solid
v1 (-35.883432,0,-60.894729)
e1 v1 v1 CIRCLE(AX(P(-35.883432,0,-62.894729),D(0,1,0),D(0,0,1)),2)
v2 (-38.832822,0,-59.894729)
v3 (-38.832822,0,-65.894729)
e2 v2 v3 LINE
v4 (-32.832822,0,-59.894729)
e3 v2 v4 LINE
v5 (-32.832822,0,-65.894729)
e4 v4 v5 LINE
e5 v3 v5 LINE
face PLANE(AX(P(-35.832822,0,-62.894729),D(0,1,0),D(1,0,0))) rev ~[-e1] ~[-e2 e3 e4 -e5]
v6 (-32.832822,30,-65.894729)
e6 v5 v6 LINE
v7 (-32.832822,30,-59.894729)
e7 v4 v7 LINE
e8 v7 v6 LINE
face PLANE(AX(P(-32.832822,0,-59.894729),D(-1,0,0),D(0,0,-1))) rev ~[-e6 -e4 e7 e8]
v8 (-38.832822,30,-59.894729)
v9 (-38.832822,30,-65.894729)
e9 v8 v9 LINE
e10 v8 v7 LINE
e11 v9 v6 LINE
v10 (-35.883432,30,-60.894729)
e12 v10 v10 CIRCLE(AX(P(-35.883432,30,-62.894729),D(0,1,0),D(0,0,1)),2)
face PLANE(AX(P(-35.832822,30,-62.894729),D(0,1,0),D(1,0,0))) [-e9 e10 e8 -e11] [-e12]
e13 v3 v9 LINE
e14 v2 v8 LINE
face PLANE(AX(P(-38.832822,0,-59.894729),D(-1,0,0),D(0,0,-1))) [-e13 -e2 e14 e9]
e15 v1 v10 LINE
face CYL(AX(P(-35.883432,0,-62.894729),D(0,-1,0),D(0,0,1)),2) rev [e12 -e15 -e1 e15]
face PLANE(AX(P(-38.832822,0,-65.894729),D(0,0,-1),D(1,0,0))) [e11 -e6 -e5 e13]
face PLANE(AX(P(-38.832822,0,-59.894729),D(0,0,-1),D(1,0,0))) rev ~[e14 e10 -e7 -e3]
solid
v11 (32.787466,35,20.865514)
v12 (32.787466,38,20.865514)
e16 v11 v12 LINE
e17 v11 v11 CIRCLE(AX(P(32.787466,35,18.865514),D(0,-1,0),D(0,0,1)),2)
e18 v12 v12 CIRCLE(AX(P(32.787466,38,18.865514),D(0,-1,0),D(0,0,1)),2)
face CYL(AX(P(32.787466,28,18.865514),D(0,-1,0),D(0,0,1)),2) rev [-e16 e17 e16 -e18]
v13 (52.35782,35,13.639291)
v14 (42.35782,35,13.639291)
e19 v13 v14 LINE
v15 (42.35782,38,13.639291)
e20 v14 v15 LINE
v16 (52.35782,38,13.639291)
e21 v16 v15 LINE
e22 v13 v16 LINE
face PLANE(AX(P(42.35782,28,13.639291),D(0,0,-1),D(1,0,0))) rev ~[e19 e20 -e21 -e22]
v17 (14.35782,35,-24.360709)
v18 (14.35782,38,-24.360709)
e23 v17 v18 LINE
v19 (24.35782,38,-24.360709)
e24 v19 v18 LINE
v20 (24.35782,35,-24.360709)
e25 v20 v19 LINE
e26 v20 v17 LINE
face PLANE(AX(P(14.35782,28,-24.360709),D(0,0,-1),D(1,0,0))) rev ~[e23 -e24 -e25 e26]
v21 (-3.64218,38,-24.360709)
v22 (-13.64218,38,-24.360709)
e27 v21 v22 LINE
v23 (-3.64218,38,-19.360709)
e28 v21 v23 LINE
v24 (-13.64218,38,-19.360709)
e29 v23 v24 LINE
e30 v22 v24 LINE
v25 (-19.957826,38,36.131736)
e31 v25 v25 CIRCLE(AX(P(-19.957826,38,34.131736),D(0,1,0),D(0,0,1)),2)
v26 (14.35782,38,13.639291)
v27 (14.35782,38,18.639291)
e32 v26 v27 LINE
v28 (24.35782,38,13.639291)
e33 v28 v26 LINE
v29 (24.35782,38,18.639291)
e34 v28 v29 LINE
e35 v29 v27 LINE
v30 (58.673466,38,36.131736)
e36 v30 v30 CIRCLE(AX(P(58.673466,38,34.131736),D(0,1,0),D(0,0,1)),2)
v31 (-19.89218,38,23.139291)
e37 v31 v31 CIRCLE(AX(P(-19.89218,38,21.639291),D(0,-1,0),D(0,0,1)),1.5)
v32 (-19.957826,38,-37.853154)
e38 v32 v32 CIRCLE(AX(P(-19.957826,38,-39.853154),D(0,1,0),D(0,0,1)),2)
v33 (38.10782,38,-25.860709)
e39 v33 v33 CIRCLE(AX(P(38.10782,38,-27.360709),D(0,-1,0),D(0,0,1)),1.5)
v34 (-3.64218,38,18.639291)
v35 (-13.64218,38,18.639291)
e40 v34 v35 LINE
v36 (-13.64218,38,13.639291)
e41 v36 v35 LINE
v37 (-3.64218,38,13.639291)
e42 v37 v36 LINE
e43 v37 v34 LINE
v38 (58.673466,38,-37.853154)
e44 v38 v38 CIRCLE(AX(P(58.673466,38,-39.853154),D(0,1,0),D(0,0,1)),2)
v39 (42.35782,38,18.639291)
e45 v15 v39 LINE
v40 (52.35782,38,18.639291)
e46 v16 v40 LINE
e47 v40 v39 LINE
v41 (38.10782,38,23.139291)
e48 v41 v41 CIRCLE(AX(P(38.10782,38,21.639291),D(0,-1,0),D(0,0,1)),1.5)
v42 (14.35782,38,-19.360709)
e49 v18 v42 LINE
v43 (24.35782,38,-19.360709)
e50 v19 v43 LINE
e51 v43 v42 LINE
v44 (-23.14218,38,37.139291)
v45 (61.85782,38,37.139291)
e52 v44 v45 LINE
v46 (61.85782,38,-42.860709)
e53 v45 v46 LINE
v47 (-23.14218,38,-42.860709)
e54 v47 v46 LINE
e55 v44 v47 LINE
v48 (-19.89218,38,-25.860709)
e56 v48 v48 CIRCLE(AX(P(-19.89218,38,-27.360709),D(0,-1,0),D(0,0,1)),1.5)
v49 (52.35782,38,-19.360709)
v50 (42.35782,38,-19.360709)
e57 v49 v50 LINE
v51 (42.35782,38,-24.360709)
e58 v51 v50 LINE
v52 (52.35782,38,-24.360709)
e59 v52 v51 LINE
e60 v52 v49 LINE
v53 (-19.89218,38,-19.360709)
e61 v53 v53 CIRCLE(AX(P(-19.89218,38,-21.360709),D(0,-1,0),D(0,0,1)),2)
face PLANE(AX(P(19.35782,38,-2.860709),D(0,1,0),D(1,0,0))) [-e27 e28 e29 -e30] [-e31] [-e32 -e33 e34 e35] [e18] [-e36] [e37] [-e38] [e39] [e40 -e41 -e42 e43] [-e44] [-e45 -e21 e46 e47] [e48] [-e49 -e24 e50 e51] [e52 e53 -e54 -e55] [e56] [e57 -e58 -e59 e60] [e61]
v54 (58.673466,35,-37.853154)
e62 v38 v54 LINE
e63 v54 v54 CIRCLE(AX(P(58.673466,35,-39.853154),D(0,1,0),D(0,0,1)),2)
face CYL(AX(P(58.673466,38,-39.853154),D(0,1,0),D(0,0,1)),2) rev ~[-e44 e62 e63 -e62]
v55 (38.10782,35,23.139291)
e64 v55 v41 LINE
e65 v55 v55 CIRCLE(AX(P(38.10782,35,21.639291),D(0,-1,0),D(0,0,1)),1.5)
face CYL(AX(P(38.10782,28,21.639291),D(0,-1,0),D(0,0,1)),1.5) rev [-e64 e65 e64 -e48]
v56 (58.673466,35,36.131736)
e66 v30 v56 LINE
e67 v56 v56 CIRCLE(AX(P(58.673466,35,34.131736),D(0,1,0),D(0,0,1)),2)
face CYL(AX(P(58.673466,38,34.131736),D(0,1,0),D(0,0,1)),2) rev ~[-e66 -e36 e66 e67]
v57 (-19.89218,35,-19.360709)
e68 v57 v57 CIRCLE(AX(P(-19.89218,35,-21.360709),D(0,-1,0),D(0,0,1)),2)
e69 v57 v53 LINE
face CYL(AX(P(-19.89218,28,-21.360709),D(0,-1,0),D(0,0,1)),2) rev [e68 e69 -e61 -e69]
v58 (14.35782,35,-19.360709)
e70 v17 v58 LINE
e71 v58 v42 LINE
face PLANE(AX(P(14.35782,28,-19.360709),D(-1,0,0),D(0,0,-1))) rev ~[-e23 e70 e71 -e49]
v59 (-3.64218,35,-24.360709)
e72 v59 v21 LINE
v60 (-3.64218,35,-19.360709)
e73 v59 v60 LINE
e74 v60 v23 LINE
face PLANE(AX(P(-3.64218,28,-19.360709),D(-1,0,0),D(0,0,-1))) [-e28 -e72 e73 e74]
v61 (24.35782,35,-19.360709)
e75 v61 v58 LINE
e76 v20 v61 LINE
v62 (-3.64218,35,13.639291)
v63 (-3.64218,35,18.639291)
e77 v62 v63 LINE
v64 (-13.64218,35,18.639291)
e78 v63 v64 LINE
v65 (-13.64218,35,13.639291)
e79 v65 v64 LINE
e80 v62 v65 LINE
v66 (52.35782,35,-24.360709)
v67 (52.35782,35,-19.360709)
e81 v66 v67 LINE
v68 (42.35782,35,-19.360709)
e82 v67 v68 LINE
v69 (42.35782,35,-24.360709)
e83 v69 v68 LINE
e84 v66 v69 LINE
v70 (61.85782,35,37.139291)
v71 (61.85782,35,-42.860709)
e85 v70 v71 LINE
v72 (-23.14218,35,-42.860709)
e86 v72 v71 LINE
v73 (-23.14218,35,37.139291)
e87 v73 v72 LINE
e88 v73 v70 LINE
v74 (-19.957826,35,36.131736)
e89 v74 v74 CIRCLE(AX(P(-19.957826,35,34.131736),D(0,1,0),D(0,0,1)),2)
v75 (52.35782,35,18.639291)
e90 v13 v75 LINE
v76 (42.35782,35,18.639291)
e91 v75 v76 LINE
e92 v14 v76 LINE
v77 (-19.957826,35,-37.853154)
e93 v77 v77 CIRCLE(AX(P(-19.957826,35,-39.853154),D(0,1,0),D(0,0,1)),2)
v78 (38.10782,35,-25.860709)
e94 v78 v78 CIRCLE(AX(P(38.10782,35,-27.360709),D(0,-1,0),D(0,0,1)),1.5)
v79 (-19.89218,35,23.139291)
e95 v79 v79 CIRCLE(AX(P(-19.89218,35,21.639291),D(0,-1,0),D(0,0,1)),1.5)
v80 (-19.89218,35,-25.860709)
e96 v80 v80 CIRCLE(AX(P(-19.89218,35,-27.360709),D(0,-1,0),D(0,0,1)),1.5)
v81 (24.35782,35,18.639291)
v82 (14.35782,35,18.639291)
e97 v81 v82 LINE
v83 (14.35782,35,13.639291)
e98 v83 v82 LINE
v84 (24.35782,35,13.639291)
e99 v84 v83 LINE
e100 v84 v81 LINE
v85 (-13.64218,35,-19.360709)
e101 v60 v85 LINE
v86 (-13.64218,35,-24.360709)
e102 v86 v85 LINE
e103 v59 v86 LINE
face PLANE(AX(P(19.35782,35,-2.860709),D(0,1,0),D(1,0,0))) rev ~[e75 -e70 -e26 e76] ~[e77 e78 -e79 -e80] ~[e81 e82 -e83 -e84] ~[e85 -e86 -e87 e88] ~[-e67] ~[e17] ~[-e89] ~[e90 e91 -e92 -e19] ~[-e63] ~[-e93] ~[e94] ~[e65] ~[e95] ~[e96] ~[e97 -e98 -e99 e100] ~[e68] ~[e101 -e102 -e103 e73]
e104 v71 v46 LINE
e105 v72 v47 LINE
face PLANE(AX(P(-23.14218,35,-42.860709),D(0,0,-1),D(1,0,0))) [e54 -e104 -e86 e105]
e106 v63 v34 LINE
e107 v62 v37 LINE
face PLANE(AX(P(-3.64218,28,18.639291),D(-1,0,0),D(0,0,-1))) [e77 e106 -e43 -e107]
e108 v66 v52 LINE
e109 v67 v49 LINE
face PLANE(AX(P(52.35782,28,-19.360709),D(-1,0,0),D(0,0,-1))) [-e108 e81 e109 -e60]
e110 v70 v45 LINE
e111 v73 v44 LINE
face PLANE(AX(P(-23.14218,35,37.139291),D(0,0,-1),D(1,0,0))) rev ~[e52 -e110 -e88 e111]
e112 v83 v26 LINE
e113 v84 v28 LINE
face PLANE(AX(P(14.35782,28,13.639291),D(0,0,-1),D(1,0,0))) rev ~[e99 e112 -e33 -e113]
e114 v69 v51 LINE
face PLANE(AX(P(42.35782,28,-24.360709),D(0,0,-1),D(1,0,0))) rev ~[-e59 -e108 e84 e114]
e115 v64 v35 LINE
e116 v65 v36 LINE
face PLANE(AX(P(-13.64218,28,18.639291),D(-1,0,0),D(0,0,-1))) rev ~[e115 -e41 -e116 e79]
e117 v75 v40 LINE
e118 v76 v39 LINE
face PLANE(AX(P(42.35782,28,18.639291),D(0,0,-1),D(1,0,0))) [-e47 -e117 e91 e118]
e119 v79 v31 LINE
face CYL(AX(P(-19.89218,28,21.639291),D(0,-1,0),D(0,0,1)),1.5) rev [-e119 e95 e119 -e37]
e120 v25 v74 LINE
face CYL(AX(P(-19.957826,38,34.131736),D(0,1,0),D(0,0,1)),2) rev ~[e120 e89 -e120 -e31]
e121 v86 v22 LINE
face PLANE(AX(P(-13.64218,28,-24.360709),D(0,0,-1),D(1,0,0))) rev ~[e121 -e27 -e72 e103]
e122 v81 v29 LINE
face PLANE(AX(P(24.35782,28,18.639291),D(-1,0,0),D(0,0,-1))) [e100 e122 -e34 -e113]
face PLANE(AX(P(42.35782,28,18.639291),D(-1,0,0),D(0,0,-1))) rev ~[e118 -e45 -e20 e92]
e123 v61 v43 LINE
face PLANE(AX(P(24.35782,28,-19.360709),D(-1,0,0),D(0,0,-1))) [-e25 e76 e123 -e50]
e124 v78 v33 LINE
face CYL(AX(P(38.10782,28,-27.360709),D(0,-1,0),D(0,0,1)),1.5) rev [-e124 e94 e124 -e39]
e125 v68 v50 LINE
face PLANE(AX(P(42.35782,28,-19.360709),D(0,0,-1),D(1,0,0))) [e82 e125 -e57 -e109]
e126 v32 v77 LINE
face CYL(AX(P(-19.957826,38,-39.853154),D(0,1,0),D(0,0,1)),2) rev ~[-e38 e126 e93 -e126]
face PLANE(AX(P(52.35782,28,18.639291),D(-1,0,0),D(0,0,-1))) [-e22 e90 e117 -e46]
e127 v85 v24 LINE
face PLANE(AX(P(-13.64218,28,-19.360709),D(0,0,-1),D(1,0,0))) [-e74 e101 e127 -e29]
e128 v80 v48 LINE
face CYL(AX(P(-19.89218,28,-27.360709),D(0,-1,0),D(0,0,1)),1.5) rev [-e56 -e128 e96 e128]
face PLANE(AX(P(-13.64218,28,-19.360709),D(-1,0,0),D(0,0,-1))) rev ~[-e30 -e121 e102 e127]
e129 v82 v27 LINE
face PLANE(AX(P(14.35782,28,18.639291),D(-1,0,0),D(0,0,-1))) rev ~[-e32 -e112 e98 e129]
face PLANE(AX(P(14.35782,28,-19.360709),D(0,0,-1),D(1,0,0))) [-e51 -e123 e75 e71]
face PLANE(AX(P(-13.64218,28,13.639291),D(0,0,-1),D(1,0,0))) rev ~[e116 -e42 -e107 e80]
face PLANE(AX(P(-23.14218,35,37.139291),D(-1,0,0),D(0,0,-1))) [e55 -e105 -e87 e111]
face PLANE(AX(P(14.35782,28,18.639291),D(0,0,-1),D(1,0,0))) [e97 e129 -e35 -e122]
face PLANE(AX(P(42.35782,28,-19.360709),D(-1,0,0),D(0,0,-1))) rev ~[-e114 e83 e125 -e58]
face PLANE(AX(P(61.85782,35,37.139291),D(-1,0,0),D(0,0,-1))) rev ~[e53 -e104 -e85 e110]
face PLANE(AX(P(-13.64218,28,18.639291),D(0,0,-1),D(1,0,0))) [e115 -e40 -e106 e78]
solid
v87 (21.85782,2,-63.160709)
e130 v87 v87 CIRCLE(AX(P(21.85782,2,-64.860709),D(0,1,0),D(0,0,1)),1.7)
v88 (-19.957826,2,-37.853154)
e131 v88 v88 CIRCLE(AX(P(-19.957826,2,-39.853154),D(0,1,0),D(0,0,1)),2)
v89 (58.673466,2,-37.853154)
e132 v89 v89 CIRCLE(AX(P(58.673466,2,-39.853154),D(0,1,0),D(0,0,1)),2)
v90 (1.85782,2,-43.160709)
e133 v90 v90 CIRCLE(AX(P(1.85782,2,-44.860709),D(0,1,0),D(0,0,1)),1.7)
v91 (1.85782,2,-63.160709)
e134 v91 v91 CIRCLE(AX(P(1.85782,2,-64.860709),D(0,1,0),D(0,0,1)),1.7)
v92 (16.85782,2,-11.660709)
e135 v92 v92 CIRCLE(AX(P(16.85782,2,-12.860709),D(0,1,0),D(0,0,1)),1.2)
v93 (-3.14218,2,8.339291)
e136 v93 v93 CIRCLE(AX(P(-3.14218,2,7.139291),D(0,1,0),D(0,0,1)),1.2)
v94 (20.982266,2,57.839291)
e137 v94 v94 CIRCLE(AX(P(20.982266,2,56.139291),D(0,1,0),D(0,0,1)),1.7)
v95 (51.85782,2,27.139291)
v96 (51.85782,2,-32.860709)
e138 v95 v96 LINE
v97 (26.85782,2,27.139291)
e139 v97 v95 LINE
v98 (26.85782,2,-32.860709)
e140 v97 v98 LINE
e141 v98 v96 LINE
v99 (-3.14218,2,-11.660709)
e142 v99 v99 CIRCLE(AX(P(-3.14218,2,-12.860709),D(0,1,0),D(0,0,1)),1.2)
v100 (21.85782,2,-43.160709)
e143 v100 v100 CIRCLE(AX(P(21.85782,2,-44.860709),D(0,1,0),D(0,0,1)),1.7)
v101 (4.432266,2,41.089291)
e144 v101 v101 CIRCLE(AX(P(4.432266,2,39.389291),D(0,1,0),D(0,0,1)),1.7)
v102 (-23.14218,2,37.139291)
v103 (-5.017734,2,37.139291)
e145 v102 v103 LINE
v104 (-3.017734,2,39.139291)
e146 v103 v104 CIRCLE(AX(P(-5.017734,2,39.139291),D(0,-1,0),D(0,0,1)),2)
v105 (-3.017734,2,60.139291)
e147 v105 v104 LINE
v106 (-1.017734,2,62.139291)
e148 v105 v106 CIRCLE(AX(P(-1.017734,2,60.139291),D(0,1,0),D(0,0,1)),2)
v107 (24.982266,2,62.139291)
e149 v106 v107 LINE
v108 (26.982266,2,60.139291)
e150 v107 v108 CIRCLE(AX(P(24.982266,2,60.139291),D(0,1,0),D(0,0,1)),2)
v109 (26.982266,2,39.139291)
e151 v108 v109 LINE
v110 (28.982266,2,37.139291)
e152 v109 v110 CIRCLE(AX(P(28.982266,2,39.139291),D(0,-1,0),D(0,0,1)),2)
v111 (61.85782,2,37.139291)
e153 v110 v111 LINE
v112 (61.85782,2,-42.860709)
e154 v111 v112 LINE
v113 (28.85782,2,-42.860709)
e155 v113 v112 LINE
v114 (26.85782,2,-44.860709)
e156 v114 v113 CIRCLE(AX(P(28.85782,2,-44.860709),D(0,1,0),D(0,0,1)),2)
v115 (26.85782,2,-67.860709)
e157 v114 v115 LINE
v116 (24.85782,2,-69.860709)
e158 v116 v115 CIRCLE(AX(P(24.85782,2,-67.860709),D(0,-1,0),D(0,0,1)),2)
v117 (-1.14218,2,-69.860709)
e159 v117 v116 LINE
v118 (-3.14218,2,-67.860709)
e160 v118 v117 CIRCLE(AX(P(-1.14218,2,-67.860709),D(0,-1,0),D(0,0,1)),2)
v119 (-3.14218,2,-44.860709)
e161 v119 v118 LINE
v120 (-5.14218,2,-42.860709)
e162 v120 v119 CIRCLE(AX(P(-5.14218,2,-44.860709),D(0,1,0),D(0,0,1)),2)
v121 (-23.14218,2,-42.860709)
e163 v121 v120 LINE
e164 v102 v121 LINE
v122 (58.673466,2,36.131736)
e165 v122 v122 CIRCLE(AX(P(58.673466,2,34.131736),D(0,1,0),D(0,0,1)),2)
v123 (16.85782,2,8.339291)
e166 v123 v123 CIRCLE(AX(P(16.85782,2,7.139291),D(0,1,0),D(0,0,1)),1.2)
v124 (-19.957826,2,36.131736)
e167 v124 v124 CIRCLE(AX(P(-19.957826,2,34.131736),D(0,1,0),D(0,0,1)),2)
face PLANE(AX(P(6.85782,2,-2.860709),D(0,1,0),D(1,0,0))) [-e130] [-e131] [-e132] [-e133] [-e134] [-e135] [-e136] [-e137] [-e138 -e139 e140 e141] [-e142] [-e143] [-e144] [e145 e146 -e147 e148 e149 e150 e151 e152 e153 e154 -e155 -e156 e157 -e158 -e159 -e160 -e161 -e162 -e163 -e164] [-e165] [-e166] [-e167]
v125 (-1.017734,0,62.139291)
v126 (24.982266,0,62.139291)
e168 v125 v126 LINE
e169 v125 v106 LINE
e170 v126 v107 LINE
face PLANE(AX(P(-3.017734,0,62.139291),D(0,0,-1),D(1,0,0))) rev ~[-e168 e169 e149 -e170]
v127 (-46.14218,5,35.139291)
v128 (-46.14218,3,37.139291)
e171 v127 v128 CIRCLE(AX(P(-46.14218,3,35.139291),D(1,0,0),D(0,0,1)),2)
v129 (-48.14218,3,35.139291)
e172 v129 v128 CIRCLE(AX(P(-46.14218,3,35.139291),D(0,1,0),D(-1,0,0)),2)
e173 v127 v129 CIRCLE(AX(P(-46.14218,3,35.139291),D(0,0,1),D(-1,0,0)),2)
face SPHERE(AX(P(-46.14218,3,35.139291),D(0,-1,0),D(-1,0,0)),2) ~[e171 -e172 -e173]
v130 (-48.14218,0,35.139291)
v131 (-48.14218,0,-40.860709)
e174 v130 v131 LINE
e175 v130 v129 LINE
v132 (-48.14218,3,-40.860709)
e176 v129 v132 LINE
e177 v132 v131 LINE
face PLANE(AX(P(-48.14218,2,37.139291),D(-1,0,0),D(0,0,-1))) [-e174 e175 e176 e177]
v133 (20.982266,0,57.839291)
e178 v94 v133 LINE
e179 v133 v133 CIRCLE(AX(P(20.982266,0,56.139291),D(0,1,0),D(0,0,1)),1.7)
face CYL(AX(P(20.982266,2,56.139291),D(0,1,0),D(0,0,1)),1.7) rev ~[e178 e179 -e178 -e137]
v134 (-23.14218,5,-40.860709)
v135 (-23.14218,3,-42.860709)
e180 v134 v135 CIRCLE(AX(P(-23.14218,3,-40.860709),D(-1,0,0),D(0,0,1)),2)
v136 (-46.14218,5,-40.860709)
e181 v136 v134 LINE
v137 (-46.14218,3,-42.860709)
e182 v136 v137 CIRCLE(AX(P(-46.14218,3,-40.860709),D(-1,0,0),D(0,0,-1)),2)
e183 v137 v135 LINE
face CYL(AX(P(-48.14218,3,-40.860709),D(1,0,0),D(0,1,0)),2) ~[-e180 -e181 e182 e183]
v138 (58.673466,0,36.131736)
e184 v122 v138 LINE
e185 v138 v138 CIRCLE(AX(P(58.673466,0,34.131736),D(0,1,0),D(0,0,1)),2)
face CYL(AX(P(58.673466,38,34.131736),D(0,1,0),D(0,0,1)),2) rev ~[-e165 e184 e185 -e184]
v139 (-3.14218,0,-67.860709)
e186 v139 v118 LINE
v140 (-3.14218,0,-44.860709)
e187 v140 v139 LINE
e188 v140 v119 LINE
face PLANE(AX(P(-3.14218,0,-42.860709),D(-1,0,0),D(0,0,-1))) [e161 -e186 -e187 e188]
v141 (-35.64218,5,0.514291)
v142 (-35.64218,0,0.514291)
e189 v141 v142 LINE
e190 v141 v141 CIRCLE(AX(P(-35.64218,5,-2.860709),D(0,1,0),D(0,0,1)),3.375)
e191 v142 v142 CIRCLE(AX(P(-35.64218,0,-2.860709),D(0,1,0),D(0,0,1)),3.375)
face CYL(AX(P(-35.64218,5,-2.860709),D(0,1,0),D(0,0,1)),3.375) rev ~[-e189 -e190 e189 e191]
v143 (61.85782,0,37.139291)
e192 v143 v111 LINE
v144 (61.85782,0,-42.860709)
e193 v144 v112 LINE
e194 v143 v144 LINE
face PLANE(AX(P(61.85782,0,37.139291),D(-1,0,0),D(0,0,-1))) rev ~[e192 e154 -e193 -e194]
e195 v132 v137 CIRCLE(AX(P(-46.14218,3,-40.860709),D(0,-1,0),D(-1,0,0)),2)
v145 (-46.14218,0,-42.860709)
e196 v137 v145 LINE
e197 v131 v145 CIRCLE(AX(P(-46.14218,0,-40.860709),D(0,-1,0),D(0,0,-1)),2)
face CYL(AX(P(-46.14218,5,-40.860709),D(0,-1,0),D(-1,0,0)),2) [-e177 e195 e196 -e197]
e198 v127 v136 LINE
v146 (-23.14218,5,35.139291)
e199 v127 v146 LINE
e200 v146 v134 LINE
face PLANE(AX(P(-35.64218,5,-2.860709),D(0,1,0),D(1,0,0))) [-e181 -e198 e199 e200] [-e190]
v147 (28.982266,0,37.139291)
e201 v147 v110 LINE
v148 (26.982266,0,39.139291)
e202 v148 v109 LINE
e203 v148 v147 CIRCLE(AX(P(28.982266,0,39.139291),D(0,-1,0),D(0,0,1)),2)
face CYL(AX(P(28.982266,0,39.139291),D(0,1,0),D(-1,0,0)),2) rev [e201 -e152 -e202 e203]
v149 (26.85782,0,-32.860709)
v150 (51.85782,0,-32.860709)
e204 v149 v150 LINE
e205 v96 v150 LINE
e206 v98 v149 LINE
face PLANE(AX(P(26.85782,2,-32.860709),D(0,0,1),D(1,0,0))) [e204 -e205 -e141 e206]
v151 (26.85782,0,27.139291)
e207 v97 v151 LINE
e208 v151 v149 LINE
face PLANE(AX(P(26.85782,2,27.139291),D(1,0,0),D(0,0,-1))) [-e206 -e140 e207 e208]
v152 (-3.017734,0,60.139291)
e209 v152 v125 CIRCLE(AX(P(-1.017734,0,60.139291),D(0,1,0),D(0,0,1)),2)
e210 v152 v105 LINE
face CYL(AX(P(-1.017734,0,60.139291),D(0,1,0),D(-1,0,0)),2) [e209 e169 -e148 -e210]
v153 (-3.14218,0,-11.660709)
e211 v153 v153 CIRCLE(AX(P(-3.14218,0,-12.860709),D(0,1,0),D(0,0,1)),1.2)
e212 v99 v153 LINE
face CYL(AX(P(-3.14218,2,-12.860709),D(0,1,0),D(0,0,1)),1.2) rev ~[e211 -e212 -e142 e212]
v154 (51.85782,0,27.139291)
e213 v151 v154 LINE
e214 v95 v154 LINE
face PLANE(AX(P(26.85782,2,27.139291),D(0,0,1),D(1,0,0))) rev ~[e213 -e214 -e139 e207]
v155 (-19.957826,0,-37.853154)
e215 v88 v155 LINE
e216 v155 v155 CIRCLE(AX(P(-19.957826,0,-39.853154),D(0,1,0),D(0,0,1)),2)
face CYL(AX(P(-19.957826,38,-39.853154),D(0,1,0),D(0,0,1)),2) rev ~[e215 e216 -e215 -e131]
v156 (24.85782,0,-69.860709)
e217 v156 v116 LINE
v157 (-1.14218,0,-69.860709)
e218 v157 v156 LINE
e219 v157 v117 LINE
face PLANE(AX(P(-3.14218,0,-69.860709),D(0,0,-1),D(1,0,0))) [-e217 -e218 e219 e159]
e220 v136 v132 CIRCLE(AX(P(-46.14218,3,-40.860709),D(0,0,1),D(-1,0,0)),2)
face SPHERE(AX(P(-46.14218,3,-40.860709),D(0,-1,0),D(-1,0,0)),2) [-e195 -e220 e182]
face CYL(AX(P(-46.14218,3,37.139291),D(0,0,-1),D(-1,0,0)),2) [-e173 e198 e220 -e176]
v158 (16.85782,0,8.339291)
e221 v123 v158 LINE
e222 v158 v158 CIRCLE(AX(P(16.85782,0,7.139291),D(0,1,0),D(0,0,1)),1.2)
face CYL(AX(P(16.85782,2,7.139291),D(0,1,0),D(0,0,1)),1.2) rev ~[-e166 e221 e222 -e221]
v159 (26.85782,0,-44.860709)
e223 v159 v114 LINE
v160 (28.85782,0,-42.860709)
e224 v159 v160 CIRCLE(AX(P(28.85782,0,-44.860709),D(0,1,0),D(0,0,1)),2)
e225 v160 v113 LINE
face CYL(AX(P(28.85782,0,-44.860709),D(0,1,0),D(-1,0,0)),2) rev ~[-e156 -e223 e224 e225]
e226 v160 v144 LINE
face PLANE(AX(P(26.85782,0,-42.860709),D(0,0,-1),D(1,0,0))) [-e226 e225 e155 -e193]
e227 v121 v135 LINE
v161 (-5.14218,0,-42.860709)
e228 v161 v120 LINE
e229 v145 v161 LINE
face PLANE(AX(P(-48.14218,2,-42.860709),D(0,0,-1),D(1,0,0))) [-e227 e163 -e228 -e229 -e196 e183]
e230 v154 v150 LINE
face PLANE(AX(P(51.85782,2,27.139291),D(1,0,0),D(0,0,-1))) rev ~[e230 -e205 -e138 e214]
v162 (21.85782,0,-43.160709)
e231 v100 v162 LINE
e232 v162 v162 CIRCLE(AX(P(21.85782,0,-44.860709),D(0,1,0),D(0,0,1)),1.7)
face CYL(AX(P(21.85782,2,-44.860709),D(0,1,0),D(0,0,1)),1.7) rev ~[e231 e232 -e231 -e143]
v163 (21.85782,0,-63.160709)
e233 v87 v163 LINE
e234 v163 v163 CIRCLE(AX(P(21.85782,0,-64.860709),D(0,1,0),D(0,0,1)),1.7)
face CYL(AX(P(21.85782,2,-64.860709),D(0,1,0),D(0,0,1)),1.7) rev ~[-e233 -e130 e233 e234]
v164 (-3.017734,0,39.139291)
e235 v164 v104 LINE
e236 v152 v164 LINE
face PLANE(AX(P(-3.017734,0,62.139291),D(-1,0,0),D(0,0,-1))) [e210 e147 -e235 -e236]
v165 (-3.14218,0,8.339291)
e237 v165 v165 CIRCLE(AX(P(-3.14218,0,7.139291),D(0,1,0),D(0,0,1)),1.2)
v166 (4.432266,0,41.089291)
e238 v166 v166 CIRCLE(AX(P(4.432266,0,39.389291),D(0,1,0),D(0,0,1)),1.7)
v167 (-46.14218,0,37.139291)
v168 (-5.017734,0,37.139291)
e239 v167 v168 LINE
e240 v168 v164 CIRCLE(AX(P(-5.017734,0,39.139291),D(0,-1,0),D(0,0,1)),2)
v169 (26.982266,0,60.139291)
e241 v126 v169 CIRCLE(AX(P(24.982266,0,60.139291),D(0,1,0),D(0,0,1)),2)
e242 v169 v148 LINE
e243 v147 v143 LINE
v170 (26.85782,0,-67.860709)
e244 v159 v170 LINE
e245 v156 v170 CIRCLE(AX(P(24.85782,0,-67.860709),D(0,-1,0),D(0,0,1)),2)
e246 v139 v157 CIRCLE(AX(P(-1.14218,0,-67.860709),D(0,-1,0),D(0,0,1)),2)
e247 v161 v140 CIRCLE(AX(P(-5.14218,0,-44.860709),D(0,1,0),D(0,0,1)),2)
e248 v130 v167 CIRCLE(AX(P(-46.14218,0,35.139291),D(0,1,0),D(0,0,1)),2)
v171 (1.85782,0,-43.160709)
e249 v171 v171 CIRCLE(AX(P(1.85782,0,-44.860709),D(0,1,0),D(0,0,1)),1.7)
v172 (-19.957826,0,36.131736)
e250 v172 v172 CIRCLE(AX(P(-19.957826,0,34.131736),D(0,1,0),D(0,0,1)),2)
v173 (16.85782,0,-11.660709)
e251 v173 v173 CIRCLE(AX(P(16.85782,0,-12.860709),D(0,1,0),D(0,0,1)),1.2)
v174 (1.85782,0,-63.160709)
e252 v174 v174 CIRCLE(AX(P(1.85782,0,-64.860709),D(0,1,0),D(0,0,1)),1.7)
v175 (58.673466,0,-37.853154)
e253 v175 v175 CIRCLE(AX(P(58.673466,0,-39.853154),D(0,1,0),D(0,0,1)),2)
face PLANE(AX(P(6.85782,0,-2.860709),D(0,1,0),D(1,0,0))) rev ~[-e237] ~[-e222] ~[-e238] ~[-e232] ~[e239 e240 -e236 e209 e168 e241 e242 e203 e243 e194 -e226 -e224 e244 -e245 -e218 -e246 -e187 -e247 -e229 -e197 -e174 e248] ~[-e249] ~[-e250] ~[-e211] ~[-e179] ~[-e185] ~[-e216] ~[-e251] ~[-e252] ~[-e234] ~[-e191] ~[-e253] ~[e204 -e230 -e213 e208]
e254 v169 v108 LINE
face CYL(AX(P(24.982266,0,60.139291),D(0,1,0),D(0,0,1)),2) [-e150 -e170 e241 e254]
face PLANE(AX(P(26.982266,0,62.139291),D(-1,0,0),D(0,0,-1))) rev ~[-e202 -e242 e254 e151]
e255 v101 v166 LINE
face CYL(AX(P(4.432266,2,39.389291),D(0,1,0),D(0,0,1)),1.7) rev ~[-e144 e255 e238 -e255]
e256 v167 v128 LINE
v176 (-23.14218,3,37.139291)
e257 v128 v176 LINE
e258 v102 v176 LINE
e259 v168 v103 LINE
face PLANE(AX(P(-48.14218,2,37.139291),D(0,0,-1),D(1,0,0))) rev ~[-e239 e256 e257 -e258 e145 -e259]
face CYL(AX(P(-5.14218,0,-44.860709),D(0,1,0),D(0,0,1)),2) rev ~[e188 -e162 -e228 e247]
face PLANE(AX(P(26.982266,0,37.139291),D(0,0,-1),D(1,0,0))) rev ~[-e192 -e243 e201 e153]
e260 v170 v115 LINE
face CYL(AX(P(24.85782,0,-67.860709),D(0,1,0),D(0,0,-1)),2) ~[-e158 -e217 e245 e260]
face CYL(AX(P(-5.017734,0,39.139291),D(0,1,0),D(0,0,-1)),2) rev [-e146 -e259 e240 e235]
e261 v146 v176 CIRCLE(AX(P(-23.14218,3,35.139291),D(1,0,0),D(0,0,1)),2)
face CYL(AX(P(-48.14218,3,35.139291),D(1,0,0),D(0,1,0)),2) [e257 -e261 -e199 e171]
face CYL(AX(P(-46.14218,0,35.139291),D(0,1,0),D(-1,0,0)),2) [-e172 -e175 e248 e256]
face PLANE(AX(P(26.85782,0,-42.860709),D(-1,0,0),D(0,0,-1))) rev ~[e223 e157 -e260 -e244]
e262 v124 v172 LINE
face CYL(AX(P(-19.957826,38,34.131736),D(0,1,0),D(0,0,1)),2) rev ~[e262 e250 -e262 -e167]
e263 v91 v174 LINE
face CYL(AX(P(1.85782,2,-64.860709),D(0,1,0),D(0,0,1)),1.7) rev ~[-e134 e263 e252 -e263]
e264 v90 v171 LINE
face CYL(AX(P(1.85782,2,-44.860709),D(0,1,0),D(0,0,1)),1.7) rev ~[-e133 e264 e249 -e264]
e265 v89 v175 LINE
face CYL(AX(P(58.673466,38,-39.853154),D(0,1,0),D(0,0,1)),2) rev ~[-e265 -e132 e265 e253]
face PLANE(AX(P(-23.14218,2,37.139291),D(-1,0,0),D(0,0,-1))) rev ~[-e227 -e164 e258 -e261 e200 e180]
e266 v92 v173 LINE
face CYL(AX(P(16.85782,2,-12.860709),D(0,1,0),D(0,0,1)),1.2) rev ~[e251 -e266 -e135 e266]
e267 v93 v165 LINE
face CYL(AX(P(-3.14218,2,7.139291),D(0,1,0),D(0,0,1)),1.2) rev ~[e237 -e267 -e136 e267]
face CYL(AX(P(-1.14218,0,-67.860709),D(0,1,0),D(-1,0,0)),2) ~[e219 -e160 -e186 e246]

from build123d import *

# Parameters (mm, degrees)
SKETCH1_W               = 110
SKETCH1_H               = 80
SKETCH1_W_2             = 30
SKETCH1_H_2             = 27
SKETCH1_H_3             = 25
BOSS_EXTRUDE1_DEPTH     = 2
SKETCH2_W               = 25
SKETCH2_H               = 80
BOSS_EXTRUDE2_DEPTH     = 3
SKETCH3_R               = 3.375
CUT_EXTRUDE1_DEPTH      = 6
SKETCH4_R               = 1.2
CUT_EXTRUDE2_DEPTH      = 6
SKETCH5_R               = 1.7
CUT_EXTRUDE3_DEPTH      = 6
SKETCH7_W               = 85
SKETCH7_H               = 80
BOSS_EXTRUDE4_DEPTH     = 3
SKETCH10_W              = 25
SKETCH10_H              = 60
CUT_EXTRUDE6_DEPTH      = 4
CUT_EXTRUDE7_DEPTH      = 10
CUT_EXTRUDE7_DEPTH_BACK = 10
SKETCH8_R               = 1.5
SKETCH8_R_2             = 2
CUT_EXTRUDE8_DEPTH      = 10
CUT_EXTRUDE8_DEPTH_BACK = 10
SKETCH9_W               = 10
SKETCH9_H               = 5
SKETCH11_R              = 2
CUT_EXTRUDE9_DEPTH      = 101.751717342
FILLET1_R               = 2
SKETCH14_W              = 6
SKETCH14_H              = 6
SKETCH14_R              = 2
BOSS_EXTRUDE5_DEPTH     = 30


with BuildPart() as part:
    # Sketch1 → Boss-Extrude1 (new body)
    with BuildSketch(Plane(origin=(0, 0, 0), x_dir=(1, 0, 0), z_dir=(0, 1, 0))):
        with Locations((6.857819905, 2.860709015)):
            Rectangle(SKETCH1_W, SKETCH1_H)
        with Locations((11.857819905, 56.360709015)):
            Rectangle(SKETCH1_W_2, SKETCH1_H_2)
        with Locations((11.982265848, -49.639290985)):
            Rectangle(SKETCH1_W_2, SKETCH1_H_3)
    extrude(amount=BOSS_EXTRUDE1_DEPTH)

    # Sketch2 → Boss-Extrude2 (add)
    with BuildSketch(Plane(origin=(0, 2, 0), x_dir=(1, 0, 0), z_dir=(0, 1, 0))):
        with Locations((-35.642180095, 2.860709015)):
            Rectangle(SKETCH2_W, SKETCH2_H)
    extrude(amount=BOSS_EXTRUDE2_DEPTH)

    # Sketch3 → Cut-Extrude1 (cut)
    with BuildSketch(Plane(origin=(0, 5, 0), x_dir=(1, 0, 0), z_dir=(0, 1, 0))):
        with Locations((-35.642180095, 2.860709015)):
            Circle(SKETCH3_R)
    extrude(amount=-CUT_EXTRUDE1_DEPTH, mode=Mode.SUBTRACT)

    # Sketch4 → Cut-Extrude2 (cut)
    with BuildSketch(Plane(origin=(0, 2, 0), x_dir=(1, 0, 0), z_dir=(0, 1, 0))):
        with Locations((-3.142180095, 12.860709015)):
            Circle(SKETCH4_R)
        with Locations((16.857819905, 12.860709015)):
            Circle(SKETCH4_R)
        with Locations((16.857819905, -7.139290985)):
            Circle(SKETCH4_R)
        with Locations((-3.142180095, -7.139290985)):
            Circle(SKETCH4_R)
    extrude(amount=-CUT_EXTRUDE2_DEPTH, mode=Mode.SUBTRACT)

    # Sketch5 → Cut-Extrude3 (cut)
    with BuildSketch(Plane(origin=(0, 2, 0), x_dir=(1, 0, 0), z_dir=(0, 1, 0))):
        with Locations((1.857819905, 64.860709015)):
            Circle(SKETCH5_R)
        with Locations((21.857819905, 64.860709015)):
            Circle(SKETCH5_R)
        with Locations((21.857819905, 44.860709015)):
            Circle(SKETCH5_R)
        with Locations((1.857819905, 44.860709015)):
            Circle(SKETCH5_R)
        with Locations((20.982265848, -56.139290985)):
            Circle(SKETCH5_R)
        with Locations((4.432265848, -39.389290985)):
            Circle(SKETCH5_R)
    extrude(amount=-CUT_EXTRUDE3_DEPTH, mode=Mode.SUBTRACT)

    # Sketch10 → Cut-Extrude6 (cut)
    with BuildSketch(Plane(origin=(0, 2, 0), x_dir=(1, 0, 0), z_dir=(0, 1, 0))):
        with Locations((39.357819905, 2.860709015)):
            Rectangle(SKETCH10_W, SKETCH10_H)
    extrude(amount=-CUT_EXTRUDE6_DEPTH, mode=Mode.SUBTRACT)


with BuildPart() as body_2:
    # Sketch7 → Boss-Extrude4 (new body)
    with BuildSketch(Plane(origin=(0, 35, 0), x_dir=(1, 0, 0), z_dir=(0, 1, 0))):
        with Locations((19.357819905, 2.860709015)):
            Rectangle(SKETCH7_W, SKETCH7_H)
    extrude(amount=BOSS_EXTRUDE4_DEPTH)

    # Sketch8 → Cut-Extrude7 (cut, two sides: drawn at the far end of the back side and taken through both)
    with BuildSketch(Plane(origin=(0, 38, 0), x_dir=(1, 0, 0), z_dir=(0, 1, 0)).offset(-CUT_EXTRUDE7_DEPTH_BACK)):
        with Locations((-19.892180095, 27.360709015)):
            Circle(SKETCH8_R)
        with Locations((38.107819905, 27.360709015)):
            Circle(SKETCH8_R)
        with Locations((38.107819905, -21.639290985)):
            Circle(SKETCH8_R)
        with Locations((-19.892180095, -21.639290985)):
            Circle(SKETCH8_R)
        with Locations((-19.892180095, 21.360709015)):
            Circle(SKETCH8_R_2)
        with Locations((32.787466192, -18.865514433)):
            Circle(SKETCH8_R_2)
    extrude(amount=CUT_EXTRUDE7_DEPTH + CUT_EXTRUDE7_DEPTH_BACK, mode=Mode.SUBTRACT)

    # Sketch9 → Cut-Extrude8 (cut, two sides: drawn at the far end of the back side and taken through both)
    with BuildSketch(Plane(origin=(0, 38, 0), x_dir=(1, 0, 0), z_dir=(0, 1, 0)).offset(-CUT_EXTRUDE8_DEPTH_BACK)):
        with Locations((19.357819905, 21.860709015)):
            Rectangle(SKETCH9_W, SKETCH9_H)
        with Locations((-8.642180095, 21.860709015)):
            Rectangle(SKETCH9_W, SKETCH9_H)
        with Locations((47.357819905, -16.139290985)):
            Rectangle(SKETCH9_W, SKETCH9_H)
        with Locations((47.357819905, 21.860709015)):
            Rectangle(SKETCH9_W, SKETCH9_H)
        with Locations((19.357819905, -16.139290985)):
            Rectangle(SKETCH9_W, SKETCH9_H)
        with Locations((-8.642180095, -16.139290985)):
            Rectangle(SKETCH9_W, SKETCH9_H)
    extrude(amount=CUT_EXTRUDE8_DEPTH + CUT_EXTRUDE8_DEPTH_BACK, mode=Mode.SUBTRACT)


with BuildPart() as cut_extrude9_tool:
    # Sketch11 → Cut-Extrude9 (new, through all)
    with BuildSketch(Plane(origin=(0, 38, 0), x_dir=(1, 0, 0), z_dir=(0, 1, 0))):
        with Locations((-19.957826311, 39.853154055)):
            Circle(SKETCH11_R)
        with Locations((-19.957826311, -34.131736026)):
            Circle(SKETCH11_R)
        with Locations((58.673466121, -34.131736026)):
            Circle(SKETCH11_R)
        with Locations((58.673466121, 39.853154055)):
            Circle(SKETCH11_R)
    extrude(amount=-CUT_EXTRUDE9_DEPTH)


with BuildPart() as part_1:
    add(part.part)

    # Cut-Extrude9: cut by cut_extrude9_tool
    add(cut_extrude9_tool.part, mode=Mode.SUBTRACT)

    # Fillet1
    fillet1_edges = [part_1.edges().sort_by_distance(p)[0] for p in [
        (26.857819905, 1, -69.860709015),
        (26.857819905, 1, -42.860709015),
        (-3.142180095, 1, -69.860709015),
        (-3.142180095, 1, -42.860709015),
        (-3.017734152, 1, 62.139290985),
        (26.982265848, 1, 62.139290985),
        (26.982265848, 1, 37.139290985),
        (-3.017734152, 1, 37.139290985),
        (-48.142180095, 5, -2.860709015),
        (-35.642180095, 5, -42.860709015),
        (-35.642180095, 5, 37.139290985),
        (-48.142180095, 2.5, 37.139290985),
        (-48.142180095, 2.5, -42.860709015),
    ]]
    fillet(fillet1_edges, radius=FILLET1_R)


with BuildPart() as body_2_1:
    add(body_2.part)

    # Cut-Extrude9: cut by cut_extrude9_tool
    add(cut_extrude9_tool.part, mode=Mode.SUBTRACT)


with BuildPart() as body_3:
    # Sketch14 → Boss-Extrude5 (new body)
    with BuildSketch(Plane(origin=(0, 0, 0), x_dir=(1, 0, 0), z_dir=(0, 1, 0))):
        with Locations((-35.83282246, 62.894728504)):
            Rectangle(SKETCH14_W, SKETCH14_H)
        with Locations((-35.883432365, 62.894728504)):
            Circle(SKETCH14_R, mode=Mode.SUBTRACT)
    extrude(amount=BOSS_EXTRUDE5_DEPTH)


solid = Compound([part_1.part, body_2_1.part, body_3.part])
